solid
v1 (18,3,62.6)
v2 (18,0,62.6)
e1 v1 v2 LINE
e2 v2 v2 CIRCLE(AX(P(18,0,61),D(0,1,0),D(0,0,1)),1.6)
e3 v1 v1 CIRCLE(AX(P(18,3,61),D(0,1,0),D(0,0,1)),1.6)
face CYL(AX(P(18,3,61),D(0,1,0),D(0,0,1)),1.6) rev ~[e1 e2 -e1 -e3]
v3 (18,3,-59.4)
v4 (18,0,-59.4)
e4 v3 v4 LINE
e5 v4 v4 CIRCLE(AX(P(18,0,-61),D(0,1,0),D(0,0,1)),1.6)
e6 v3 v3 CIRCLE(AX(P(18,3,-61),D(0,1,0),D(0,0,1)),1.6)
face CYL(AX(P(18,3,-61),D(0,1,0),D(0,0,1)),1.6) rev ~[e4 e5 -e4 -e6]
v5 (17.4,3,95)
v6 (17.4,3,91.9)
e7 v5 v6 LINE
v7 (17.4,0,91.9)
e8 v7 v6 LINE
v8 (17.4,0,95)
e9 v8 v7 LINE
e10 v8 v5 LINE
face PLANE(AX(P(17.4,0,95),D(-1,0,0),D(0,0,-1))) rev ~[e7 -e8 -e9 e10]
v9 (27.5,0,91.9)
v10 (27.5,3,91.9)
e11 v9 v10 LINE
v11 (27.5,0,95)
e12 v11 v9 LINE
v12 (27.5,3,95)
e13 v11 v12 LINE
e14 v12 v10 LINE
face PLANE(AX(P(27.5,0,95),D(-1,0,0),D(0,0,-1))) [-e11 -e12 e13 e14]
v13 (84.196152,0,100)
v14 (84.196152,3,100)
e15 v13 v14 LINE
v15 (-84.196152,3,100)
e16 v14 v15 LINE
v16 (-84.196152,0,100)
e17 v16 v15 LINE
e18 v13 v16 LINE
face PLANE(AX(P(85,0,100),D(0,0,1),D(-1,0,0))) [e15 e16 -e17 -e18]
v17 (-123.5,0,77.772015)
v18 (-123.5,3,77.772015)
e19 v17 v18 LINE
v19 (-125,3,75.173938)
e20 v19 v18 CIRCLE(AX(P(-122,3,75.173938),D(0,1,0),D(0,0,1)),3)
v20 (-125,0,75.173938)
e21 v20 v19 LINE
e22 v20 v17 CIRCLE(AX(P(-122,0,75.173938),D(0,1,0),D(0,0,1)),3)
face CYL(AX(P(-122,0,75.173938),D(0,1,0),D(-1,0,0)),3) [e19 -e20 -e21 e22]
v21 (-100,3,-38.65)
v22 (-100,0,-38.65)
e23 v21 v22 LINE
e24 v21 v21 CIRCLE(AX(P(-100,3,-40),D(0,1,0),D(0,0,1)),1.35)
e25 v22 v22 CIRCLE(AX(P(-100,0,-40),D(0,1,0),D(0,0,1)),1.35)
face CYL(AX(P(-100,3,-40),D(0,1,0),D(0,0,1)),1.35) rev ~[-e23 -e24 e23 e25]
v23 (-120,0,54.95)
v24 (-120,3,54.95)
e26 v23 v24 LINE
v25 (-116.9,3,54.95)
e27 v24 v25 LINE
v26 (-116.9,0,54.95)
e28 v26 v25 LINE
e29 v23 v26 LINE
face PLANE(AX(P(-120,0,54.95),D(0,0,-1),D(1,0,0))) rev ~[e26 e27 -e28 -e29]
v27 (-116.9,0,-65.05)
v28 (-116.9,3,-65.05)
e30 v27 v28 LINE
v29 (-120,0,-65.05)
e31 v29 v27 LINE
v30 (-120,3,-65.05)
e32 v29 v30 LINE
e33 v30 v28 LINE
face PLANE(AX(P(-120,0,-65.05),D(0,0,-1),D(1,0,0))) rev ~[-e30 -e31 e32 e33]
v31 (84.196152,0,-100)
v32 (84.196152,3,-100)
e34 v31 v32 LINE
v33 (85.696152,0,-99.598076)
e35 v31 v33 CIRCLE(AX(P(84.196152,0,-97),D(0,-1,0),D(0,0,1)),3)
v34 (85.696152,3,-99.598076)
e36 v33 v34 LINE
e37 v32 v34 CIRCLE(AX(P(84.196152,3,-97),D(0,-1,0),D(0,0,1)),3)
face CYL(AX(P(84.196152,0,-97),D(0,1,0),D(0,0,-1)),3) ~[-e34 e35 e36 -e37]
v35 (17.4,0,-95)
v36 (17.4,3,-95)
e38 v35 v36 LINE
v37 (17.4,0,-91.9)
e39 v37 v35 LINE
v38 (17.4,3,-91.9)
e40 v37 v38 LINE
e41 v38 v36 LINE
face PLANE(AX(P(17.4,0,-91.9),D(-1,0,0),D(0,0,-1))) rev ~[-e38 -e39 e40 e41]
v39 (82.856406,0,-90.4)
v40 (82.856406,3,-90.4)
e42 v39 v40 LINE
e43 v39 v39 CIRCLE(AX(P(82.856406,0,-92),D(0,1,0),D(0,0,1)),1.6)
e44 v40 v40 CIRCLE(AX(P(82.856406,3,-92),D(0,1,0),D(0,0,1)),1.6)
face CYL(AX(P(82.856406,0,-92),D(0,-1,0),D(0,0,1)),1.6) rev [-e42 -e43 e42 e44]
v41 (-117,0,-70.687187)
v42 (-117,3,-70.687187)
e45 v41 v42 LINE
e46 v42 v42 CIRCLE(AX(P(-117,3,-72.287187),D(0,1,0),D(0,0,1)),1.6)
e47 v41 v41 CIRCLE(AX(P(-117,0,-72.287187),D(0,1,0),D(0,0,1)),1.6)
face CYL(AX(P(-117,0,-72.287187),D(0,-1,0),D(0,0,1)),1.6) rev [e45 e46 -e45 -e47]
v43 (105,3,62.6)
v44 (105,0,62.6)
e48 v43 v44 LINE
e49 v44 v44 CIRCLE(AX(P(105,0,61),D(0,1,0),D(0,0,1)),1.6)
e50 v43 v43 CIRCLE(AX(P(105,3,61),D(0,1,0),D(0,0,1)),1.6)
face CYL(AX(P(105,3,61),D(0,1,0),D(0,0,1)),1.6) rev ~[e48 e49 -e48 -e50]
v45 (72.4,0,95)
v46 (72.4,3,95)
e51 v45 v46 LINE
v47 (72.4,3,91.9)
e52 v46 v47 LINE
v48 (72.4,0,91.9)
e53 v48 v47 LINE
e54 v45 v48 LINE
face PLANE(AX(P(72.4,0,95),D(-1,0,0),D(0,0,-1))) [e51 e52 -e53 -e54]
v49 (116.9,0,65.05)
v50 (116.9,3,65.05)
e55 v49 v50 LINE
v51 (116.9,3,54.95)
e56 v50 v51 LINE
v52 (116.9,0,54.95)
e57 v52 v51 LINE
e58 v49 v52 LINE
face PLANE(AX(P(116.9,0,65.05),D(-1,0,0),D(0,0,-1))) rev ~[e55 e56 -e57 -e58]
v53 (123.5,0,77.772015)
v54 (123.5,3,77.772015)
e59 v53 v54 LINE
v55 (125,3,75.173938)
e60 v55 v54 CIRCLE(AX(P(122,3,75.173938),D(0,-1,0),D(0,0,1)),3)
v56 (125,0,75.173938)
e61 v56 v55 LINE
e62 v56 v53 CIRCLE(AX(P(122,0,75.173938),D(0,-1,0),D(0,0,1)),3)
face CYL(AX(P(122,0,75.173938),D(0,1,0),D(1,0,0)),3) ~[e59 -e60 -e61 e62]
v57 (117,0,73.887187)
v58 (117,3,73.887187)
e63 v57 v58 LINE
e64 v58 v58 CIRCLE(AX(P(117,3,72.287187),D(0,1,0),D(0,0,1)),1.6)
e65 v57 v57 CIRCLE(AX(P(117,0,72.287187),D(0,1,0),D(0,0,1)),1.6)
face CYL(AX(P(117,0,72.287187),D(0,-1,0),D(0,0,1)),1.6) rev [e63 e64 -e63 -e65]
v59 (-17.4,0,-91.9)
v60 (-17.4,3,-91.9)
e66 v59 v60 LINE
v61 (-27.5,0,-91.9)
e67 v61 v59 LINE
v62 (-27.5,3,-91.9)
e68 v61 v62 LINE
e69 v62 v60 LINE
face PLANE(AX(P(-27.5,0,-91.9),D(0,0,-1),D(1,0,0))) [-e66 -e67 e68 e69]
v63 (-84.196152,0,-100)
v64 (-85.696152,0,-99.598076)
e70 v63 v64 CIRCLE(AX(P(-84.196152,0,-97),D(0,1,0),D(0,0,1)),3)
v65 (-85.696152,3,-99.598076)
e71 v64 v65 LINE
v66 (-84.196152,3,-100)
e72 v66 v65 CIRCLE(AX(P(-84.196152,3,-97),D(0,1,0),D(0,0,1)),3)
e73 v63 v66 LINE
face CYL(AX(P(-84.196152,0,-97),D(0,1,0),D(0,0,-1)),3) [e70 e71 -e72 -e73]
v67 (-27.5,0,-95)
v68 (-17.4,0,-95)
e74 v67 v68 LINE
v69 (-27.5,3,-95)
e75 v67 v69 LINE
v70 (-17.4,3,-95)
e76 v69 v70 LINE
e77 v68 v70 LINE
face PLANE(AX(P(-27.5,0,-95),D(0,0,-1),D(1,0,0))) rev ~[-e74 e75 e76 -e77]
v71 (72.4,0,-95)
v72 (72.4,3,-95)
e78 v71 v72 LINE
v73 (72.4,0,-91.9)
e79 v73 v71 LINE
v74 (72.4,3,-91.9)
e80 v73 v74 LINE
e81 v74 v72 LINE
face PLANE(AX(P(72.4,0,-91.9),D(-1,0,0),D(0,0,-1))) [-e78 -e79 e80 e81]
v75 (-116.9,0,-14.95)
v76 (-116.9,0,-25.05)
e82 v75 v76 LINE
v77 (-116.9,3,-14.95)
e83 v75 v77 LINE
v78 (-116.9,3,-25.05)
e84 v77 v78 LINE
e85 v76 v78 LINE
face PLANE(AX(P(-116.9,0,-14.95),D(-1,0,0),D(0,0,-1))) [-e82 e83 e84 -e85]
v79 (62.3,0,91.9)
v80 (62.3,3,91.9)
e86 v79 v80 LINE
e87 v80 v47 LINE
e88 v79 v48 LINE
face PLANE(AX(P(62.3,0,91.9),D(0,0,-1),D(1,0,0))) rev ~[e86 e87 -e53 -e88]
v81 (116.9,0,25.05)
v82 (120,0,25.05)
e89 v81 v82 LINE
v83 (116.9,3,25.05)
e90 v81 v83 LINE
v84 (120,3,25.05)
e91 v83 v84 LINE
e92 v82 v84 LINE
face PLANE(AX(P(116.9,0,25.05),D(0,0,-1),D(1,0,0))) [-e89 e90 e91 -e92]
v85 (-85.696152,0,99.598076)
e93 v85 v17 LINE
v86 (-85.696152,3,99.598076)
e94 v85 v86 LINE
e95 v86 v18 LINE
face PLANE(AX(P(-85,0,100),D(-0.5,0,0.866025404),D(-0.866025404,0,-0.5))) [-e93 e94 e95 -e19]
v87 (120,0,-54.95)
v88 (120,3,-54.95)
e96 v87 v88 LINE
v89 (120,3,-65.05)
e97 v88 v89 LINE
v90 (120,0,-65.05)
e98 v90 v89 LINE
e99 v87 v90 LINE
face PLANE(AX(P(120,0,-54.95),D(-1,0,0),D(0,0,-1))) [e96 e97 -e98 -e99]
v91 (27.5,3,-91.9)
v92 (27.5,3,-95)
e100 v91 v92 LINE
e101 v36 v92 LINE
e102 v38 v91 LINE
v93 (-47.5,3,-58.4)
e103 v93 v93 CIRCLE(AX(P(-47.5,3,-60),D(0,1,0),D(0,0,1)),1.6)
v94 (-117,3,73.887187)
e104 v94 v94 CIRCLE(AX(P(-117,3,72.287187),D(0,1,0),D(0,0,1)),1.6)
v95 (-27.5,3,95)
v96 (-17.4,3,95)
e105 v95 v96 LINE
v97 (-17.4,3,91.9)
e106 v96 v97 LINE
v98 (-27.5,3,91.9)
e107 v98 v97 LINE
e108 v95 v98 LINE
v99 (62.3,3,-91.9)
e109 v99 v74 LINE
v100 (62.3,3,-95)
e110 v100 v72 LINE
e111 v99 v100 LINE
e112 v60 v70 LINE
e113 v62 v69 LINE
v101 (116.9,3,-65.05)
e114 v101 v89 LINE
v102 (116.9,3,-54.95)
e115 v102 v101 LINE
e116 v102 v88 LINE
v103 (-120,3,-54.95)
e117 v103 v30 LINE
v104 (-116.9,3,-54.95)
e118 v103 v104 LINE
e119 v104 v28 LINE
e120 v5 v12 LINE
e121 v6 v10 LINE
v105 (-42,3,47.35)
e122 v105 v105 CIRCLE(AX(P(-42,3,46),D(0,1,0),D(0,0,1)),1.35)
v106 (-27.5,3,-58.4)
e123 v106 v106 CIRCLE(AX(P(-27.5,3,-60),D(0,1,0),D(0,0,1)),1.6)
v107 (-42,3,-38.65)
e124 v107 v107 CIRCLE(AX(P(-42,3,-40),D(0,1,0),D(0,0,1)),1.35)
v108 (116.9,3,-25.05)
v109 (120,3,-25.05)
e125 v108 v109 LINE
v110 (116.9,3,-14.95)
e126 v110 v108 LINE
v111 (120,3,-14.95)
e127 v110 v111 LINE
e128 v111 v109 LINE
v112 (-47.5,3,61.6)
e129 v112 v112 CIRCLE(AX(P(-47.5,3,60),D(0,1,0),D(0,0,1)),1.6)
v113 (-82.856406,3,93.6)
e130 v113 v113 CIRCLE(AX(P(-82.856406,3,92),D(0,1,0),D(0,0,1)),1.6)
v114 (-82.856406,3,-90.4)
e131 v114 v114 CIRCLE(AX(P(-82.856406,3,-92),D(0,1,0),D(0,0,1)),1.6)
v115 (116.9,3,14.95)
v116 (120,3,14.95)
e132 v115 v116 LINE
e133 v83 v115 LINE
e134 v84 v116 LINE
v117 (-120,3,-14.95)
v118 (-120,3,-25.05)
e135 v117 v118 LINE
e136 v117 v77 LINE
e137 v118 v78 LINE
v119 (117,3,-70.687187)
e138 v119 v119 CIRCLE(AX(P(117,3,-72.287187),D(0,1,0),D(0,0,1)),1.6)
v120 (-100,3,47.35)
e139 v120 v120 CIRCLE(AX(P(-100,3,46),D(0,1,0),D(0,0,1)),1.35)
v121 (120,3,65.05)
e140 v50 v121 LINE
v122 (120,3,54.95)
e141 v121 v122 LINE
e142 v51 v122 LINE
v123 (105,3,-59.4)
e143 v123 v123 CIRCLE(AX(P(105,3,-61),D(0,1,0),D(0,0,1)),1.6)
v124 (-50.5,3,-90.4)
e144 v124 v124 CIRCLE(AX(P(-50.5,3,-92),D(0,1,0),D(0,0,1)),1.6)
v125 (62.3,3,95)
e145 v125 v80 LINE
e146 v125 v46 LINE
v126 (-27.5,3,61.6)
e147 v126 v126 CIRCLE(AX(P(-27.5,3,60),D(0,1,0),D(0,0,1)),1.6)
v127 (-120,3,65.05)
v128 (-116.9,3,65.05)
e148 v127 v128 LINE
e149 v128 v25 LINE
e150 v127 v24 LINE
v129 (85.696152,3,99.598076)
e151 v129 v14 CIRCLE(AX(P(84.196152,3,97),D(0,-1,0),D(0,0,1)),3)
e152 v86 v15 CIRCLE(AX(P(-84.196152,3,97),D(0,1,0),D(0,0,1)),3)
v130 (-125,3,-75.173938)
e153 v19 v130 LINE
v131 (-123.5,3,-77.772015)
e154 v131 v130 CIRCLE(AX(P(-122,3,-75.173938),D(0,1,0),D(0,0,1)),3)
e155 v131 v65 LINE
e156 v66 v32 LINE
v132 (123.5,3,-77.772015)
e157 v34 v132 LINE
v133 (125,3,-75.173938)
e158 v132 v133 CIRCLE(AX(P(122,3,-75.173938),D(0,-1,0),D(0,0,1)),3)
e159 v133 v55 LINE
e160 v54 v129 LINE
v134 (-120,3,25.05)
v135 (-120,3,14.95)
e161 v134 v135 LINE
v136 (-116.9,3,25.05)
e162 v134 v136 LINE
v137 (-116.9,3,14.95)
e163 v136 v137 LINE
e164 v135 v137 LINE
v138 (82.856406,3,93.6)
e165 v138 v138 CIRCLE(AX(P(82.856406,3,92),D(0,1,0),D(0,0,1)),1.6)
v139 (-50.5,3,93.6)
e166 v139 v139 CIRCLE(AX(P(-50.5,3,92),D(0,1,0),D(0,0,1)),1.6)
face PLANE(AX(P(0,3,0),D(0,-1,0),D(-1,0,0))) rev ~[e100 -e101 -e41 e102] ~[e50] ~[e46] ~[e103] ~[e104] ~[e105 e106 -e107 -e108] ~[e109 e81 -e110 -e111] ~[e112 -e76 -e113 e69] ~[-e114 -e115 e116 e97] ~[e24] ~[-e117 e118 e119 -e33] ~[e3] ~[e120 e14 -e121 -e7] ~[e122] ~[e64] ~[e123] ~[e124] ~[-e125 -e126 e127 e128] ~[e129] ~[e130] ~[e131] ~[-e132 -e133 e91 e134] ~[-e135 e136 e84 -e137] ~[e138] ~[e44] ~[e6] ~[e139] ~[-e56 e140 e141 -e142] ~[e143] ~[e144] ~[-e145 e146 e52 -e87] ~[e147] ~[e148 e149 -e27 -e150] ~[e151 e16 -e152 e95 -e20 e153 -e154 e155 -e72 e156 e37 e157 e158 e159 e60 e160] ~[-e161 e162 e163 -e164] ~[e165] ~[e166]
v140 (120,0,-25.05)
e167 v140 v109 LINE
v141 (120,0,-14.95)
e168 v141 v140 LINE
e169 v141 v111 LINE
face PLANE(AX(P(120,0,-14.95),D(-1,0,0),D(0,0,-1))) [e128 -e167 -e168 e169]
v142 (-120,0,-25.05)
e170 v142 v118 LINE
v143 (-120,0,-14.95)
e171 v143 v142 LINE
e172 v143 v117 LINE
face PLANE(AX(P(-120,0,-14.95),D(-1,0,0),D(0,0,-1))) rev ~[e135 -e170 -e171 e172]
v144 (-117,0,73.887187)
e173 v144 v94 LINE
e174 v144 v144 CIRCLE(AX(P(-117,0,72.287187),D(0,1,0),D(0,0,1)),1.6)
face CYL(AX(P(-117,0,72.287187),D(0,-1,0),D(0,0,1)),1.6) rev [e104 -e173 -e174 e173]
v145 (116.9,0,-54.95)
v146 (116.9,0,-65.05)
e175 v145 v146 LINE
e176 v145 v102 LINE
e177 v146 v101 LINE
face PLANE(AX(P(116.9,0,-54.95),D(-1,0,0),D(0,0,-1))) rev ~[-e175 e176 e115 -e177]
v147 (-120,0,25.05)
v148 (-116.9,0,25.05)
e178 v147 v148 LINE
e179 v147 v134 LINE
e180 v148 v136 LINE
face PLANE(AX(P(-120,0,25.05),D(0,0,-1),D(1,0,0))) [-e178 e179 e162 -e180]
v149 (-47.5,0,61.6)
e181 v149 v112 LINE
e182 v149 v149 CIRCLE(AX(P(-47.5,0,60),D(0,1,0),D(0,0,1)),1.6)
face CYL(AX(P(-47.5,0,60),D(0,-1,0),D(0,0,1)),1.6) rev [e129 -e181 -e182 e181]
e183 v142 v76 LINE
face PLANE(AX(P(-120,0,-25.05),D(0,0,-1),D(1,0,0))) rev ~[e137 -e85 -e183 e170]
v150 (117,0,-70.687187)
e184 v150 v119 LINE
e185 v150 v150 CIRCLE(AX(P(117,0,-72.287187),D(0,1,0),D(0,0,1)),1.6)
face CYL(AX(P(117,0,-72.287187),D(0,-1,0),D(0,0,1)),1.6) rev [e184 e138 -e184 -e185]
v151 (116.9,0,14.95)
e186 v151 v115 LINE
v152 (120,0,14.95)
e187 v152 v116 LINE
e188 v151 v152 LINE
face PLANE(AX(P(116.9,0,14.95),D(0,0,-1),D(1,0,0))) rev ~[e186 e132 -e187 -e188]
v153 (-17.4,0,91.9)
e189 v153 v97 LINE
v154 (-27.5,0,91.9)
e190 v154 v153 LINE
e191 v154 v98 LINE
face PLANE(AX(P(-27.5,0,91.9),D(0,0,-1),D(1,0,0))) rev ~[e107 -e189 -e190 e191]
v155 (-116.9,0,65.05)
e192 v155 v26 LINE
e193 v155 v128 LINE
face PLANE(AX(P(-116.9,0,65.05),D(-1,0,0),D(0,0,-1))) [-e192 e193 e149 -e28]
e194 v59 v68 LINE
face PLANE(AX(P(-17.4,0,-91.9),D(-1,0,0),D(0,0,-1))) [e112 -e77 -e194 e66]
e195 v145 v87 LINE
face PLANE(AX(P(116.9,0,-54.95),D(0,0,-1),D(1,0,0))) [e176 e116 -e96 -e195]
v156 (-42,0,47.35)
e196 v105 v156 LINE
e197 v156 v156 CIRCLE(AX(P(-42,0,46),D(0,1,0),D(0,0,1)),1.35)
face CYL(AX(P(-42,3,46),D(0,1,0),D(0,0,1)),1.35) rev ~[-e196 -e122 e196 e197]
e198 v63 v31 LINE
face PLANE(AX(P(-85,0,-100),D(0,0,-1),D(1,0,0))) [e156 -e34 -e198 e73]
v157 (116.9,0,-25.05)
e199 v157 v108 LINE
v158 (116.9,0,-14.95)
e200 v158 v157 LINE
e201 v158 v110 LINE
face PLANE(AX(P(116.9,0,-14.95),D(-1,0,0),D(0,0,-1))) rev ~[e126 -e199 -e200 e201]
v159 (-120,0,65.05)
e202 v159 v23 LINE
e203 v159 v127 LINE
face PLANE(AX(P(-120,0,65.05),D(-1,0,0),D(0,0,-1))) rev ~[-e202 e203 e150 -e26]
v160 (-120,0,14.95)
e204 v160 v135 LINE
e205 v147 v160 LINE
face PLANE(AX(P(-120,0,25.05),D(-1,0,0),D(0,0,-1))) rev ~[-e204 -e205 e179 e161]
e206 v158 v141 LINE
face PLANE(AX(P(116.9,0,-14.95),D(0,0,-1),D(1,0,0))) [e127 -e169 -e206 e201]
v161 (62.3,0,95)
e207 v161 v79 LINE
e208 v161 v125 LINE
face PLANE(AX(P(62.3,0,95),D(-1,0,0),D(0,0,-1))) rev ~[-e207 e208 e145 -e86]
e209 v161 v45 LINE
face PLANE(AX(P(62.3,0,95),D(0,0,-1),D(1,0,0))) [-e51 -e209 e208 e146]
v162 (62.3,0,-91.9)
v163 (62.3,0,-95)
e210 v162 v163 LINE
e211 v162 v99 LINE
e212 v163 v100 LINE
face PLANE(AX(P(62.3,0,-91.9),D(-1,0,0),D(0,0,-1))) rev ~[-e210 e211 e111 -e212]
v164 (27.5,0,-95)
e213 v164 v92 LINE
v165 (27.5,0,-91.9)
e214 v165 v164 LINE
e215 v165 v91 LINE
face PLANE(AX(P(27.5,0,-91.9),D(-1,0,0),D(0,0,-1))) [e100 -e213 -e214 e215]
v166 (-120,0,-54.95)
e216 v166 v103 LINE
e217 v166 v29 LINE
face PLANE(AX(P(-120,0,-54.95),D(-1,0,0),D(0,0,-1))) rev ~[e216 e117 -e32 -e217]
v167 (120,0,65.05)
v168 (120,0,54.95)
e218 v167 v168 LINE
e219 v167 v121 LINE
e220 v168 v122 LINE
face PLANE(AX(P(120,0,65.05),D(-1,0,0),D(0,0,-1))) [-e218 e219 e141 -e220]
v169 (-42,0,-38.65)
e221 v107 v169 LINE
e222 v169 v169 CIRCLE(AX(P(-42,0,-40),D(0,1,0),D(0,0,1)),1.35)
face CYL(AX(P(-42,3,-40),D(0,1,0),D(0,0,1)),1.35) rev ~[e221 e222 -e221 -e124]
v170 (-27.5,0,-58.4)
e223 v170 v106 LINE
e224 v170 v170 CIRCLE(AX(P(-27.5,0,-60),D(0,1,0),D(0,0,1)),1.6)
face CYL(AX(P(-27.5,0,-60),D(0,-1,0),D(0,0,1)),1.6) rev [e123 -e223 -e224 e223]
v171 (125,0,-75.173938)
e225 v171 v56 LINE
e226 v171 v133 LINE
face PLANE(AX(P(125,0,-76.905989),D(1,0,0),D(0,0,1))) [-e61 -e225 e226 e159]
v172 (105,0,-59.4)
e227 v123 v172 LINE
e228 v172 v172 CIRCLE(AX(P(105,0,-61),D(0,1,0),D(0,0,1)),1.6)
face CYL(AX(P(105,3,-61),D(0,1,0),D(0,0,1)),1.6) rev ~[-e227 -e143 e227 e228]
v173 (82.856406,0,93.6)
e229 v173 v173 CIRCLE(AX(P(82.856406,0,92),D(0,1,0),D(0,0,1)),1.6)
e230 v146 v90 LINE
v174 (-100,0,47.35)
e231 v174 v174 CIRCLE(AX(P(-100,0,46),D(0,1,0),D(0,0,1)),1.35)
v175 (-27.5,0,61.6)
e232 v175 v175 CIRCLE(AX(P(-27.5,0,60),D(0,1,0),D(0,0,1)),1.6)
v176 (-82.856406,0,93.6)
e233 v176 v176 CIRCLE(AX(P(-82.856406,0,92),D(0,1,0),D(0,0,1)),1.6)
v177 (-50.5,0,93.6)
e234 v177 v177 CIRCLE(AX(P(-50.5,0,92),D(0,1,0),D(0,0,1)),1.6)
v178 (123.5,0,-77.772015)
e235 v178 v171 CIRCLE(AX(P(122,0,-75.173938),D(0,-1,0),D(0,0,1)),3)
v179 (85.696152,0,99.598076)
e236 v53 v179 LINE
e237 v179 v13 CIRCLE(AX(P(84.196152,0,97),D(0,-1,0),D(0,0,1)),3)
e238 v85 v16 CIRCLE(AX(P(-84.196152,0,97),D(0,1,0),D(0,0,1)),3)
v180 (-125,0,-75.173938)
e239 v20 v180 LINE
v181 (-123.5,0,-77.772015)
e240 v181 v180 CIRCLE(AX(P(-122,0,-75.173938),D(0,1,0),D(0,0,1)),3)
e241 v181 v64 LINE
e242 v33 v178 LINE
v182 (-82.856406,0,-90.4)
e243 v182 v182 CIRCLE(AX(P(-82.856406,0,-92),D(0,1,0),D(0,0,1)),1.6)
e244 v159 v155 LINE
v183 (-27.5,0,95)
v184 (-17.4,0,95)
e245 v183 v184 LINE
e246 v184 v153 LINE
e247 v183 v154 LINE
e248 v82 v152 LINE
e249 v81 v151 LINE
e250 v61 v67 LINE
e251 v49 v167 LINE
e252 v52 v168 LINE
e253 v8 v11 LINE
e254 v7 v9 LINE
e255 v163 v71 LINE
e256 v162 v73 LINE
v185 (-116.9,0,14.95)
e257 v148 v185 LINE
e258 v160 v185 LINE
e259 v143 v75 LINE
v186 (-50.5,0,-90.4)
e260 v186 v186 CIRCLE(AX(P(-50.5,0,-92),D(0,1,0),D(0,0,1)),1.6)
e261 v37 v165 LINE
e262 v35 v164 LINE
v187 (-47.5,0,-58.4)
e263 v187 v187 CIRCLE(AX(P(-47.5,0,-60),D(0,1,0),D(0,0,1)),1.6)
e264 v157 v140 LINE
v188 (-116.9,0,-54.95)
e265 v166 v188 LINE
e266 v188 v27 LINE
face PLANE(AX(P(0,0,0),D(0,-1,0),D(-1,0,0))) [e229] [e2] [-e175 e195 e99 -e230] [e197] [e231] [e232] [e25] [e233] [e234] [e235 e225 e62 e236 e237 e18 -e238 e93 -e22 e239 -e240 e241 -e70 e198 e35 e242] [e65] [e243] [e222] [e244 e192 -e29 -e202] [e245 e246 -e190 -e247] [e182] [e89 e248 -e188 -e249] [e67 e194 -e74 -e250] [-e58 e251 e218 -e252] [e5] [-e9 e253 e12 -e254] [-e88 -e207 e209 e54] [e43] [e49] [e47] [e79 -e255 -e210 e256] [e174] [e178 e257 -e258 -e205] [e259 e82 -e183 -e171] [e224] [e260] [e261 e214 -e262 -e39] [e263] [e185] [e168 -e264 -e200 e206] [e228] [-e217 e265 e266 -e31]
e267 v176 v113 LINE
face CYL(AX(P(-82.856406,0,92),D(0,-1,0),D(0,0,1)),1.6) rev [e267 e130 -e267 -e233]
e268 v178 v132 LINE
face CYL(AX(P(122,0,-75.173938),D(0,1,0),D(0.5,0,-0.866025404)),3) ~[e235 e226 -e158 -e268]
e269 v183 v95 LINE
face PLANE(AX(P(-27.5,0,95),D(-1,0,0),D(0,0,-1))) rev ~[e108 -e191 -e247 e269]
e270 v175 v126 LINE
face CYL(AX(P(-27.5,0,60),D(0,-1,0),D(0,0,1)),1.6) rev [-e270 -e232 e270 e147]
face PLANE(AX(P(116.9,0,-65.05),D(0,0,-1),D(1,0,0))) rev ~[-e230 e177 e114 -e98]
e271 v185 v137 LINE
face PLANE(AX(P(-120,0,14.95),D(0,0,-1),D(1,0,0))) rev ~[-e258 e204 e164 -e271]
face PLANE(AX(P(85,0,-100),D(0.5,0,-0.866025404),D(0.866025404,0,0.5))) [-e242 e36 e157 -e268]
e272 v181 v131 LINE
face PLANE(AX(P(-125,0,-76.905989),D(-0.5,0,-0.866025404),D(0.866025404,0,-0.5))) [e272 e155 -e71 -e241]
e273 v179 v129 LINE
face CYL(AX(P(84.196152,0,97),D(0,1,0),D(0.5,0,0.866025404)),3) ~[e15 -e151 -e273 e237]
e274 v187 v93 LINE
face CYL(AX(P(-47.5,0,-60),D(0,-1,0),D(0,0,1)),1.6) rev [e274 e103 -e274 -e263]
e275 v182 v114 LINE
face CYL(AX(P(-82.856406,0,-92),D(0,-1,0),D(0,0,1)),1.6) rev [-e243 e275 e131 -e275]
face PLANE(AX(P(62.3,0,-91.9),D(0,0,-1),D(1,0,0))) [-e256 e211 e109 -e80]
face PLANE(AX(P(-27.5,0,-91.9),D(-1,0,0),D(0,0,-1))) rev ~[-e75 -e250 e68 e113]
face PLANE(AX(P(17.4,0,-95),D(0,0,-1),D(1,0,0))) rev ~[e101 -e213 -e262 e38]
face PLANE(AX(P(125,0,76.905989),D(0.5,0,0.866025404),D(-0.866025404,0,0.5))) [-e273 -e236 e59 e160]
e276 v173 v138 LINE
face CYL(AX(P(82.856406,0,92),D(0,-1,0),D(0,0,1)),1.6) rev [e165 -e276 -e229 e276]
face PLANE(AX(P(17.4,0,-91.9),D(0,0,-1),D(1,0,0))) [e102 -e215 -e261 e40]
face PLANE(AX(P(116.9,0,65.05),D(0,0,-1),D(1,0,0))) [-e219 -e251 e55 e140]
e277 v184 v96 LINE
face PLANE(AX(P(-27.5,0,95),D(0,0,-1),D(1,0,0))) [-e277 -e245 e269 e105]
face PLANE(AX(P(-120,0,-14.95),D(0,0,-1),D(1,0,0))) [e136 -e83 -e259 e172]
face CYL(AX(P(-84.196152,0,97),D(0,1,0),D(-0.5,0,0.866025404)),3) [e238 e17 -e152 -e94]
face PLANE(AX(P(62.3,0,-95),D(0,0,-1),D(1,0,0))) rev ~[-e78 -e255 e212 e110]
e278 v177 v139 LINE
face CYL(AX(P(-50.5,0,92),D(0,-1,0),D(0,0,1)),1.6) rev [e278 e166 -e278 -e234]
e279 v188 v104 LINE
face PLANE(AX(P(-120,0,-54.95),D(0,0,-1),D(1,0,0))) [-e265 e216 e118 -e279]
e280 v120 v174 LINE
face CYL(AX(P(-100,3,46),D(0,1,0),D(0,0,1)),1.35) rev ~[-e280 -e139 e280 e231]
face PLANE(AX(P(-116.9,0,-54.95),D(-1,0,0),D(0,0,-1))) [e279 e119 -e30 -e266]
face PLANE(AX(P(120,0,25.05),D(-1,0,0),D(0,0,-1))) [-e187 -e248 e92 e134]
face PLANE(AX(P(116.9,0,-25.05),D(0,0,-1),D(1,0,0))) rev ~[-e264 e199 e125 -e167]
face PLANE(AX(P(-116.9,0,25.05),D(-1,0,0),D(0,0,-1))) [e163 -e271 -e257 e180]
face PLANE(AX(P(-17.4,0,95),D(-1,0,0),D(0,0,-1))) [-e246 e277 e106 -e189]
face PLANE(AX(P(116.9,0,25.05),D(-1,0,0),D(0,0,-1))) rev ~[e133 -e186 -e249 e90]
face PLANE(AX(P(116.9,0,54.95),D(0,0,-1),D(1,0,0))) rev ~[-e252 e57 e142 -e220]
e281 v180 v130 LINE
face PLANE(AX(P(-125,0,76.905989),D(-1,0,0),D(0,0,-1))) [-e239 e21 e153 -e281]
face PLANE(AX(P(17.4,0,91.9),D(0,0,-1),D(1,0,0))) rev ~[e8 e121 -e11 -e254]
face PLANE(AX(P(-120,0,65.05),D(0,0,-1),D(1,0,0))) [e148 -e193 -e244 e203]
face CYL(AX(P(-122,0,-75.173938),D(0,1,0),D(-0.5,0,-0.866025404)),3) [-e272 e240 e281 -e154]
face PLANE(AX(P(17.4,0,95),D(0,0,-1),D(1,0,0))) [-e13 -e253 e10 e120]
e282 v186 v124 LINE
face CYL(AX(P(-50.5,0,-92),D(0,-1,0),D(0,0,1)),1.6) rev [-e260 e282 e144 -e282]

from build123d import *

# Parameters (mm, degrees)
SKETCH1_R           = 1.6
SKETCH1_W           = 10.1
SKETCH1_H           = 3.1
SKETCH1_W_2         = 3.1
SKETCH1_H_2         = 10.1
BOSS_EXTRUDE1_DEPTH = 3
CUT_EXTRUDE1_REACH  = 162.106
SKETCH3_R           = 1.35
SKETCH3_R_2         = 1.6
FILLET1_R           = 3


with BuildPart() as part:
    # Sketch1 → Boss-Extrude1 (new body)
    with BuildSketch(Plane(origin=(0, 0, 0), x_dir=(1, 0, 0), z_dir=(0, 1, 0))):
        Polygon((-85, 100), (85, 100), (125, 76.905989232), (125, -76.905989232), (85, -100), (-85, -100), (-125, -76.905989232), (-125, 76.905989232), align=None)
        with Locations(Location((-47.5, -60, 0), (0, 0, 270))):
            Circle(SKETCH1_R, mode=Mode.SUBTRACT)
        with Locations(Location((82.856406461, 92, 0), (0, 0, 270))):
            Circle(SKETCH1_R, mode=Mode.SUBTRACT)
        with Locations(Location((117, 72.287187079, 0), (0, 0, 270))):
            Circle(SKETCH1_R, mode=Mode.SUBTRACT)
        with Locations(Location((117, -72.287187079, 0), (0, 0, 270))):
            Circle(SKETCH1_R, mode=Mode.SUBTRACT)
        with Locations(Location((82.856406461, -92, 0), (0, 0, 270))):
            Circle(SKETCH1_R, mode=Mode.SUBTRACT)
        with Locations(Location((-27.5, -60, 0), (0, 0, 270))):
            Circle(SKETCH1_R, mode=Mode.SUBTRACT)
        with Locations(Location((-27.5, 60, 0), (0, 0, 270))):
            Circle(SKETCH1_R, mode=Mode.SUBTRACT)
        with Locations(Location((-117, -72.287187079, 0), (0, 0, 270))):
            Circle(SKETCH1_R, mode=Mode.SUBTRACT)
        with Locations(Location((-50.5, -92, 0), (0, 0, 270))):
            Circle(SKETCH1_R, mode=Mode.SUBTRACT)
        with Locations(Location((-47.5, 60, 0), (0, 0, 270))):
            Circle(SKETCH1_R, mode=Mode.SUBTRACT)
        with Locations(Location((-117, 72.287187079, 0), (0, 0, 270))):
            Circle(SKETCH1_R, mode=Mode.SUBTRACT)
        with Locations(Location((-50.5, 92, 0), (0, 0, 270))):
            Circle(SKETCH1_R, mode=Mode.SUBTRACT)
        with Locations(Location((-82.856406461, -92, 0), (0, 0, 270))):
            Circle(SKETCH1_R, mode=Mode.SUBTRACT)
        with Locations(Location((-82.856406461, 92, 0), (0, 0, 270))):
            Circle(SKETCH1_R, mode=Mode.SUBTRACT)
        with Locations((-22.45, -93.45)):
            Rectangle(SKETCH1_W, SKETCH1_H, mode=Mode.SUBTRACT)
        with Locations((-118.45, 60)):
            Rectangle(SKETCH1_W_2, SKETCH1_H_2, mode=Mode.SUBTRACT)
        with Locations((-118.45, 20)):
            Rectangle(SKETCH1_W_2, SKETCH1_H_2, mode=Mode.SUBTRACT)
        with Locations((-118.45, -20)):
            Rectangle(SKETCH1_W_2, SKETCH1_H_2, mode=Mode.SUBTRACT)
        with Locations((-118.45, -60)):
            Rectangle(SKETCH1_W_2, SKETCH1_H_2, mode=Mode.SUBTRACT)
        with Locations((118.45, -60)):
            Rectangle(SKETCH1_W_2, SKETCH1_H_2, mode=Mode.SUBTRACT)
        with Locations((118.45, -20)):
            Rectangle(SKETCH1_W_2, SKETCH1_H_2, mode=Mode.SUBTRACT)
        with Locations((118.45, 20)):
            Rectangle(SKETCH1_W_2, SKETCH1_H_2, mode=Mode.SUBTRACT)
        with Locations((118.45, 60)):
            Rectangle(SKETCH1_W_2, SKETCH1_H_2, mode=Mode.SUBTRACT)
        with Locations((22.45, -93.45)):
            Rectangle(SKETCH1_W, SKETCH1_H, mode=Mode.SUBTRACT)
        with Locations((67.35, -93.45)):
            Rectangle(SKETCH1_W, SKETCH1_H, mode=Mode.SUBTRACT)
        with Locations((67.35, 93.45)):
            Rectangle(SKETCH1_W, SKETCH1_H, mode=Mode.SUBTRACT)
        with Locations((22.45, 93.45)):
            Rectangle(SKETCH1_W, SKETCH1_H, mode=Mode.SUBTRACT)
        with Locations((-22.45, 93.45)):
            Rectangle(SKETCH1_W, SKETCH1_H, mode=Mode.SUBTRACT)
    extrude(amount=BOSS_EXTRUDE1_DEPTH)

    # Sketch3 → Cut-Extrude1 (cut, up to next)
    with BuildSketch(Plane(origin=(0, 3, 0), x_dir=(1, 0, 0), z_dir=(0, 1, 0)), mode=Mode.PRIVATE) as cut_extrude1_sk1:
        with Locations(Location((-100, -46, 0), (0, 0, 270))):
            Circle(SKETCH3_R)
    cut_extrude1_tool1 = extrude(cut_extrude1_sk1.sketch, amount=-CUT_EXTRUDE1_REACH, mode=Mode.PRIVATE) & part.part
    # Sketch3 → Cut-Extrude1 (cut, up to next)
    with BuildSketch(Plane(origin=(0, 3, 0), x_dir=(1, 0, 0), z_dir=(0, 1, 0)), mode=Mode.PRIVATE) as cut_extrude1_sk2:
        with Locations(Location((-42, -46, 0), (0, 0, 270))):
            Circle(SKETCH3_R)
    cut_extrude1_tool2 = extrude(cut_extrude1_sk2.sketch, amount=-CUT_EXTRUDE1_REACH, mode=Mode.PRIVATE) & part.part
    # Sketch3 → Cut-Extrude1 (cut, up to next)
    with BuildSketch(Plane(origin=(0, 3, 0), x_dir=(1, 0, 0), z_dir=(0, 1, 0)), mode=Mode.PRIVATE) as cut_extrude1_sk3:
        with Locations(Location((-42, 40, 0), (0, 0, 270))):
            Circle(SKETCH3_R)
    cut_extrude1_tool3 = extrude(cut_extrude1_sk3.sketch, amount=-CUT_EXTRUDE1_REACH, mode=Mode.PRIVATE) & part.part
    # Sketch3 → Cut-Extrude1 (cut, up to next)
    with BuildSketch(Plane(origin=(0, 3, 0), x_dir=(1, 0, 0), z_dir=(0, 1, 0)), mode=Mode.PRIVATE) as cut_extrude1_sk4:
        with Locations(Location((-100, 40, 0), (0, 0, 270))):
            Circle(SKETCH3_R)
    cut_extrude1_tool4 = extrude(cut_extrude1_sk4.sketch, amount=-CUT_EXTRUDE1_REACH, mode=Mode.PRIVATE) & part.part
    # Sketch3 → Cut-Extrude1 (cut, up to next)
    with BuildSketch(Plane(origin=(0, 3, 0), x_dir=(1, 0, 0), z_dir=(0, 1, 0)), mode=Mode.PRIVATE) as cut_extrude1_sk5:
        with Locations(Location((18, 61, 0), (0, 0, 270))):
            Circle(SKETCH3_R_2)
    cut_extrude1_tool5 = extrude(cut_extrude1_sk5.sketch, amount=-CUT_EXTRUDE1_REACH, mode=Mode.PRIVATE) & part.part
    # Sketch3 → Cut-Extrude1 (cut, up to next)
    with BuildSketch(Plane(origin=(0, 3, 0), x_dir=(1, 0, 0), z_dir=(0, 1, 0)), mode=Mode.PRIVATE) as cut_extrude1_sk6:
        with Locations(Location((105, 61, 0), (0, 0, 270))):
            Circle(SKETCH3_R_2)
    cut_extrude1_tool6 = extrude(cut_extrude1_sk6.sketch, amount=-CUT_EXTRUDE1_REACH, mode=Mode.PRIVATE) & part.part
    # Sketch3 → Cut-Extrude1 (cut, up to next)
    with BuildSketch(Plane(origin=(0, 3, 0), x_dir=(1, 0, 0), z_dir=(0, 1, 0)), mode=Mode.PRIVATE) as cut_extrude1_sk7:
        with Locations(Location((105, -61, 0), (0, 0, 270))):
            Circle(SKETCH3_R_2)
    cut_extrude1_tool7 = extrude(cut_extrude1_sk7.sketch, amount=-CUT_EXTRUDE1_REACH, mode=Mode.PRIVATE) & part.part
    # Sketch3 → Cut-Extrude1 (cut, up to next)
    with BuildSketch(Plane(origin=(0, 3, 0), x_dir=(1, 0, 0), z_dir=(0, 1, 0)), mode=Mode.PRIVATE) as cut_extrude1_sk8:
        with Locations(Location((18, -61, 0), (0, 0, 270))):
            Circle(SKETCH3_R_2)
    cut_extrude1_tool8 = extrude(cut_extrude1_sk8.sketch, amount=-CUT_EXTRUDE1_REACH, mode=Mode.PRIVATE) & part.part
    add(cut_extrude1_tool1.solids().sort_by_distance((-100, 3, 46))[0], mode=Mode.SUBTRACT)
    add(cut_extrude1_tool2.solids().sort_by_distance((-42, 3, 46))[0], mode=Mode.SUBTRACT)
    add(cut_extrude1_tool3.solids().sort_by_distance((-42, 3, -40))[0], mode=Mode.SUBTRACT)
    add(cut_extrude1_tool4.solids().sort_by_distance((-100, 3, -40))[0], mode=Mode.SUBTRACT)
    add(cut_extrude1_tool5.solids().sort_by_distance((18, 3, -61))[0], mode=Mode.SUBTRACT)
    add(cut_extrude1_tool6.solids().sort_by_distance((105, 3, -61))[0], mode=Mode.SUBTRACT)
    add(cut_extrude1_tool7.solids().sort_by_distance((105, 3, 61))[0], mode=Mode.SUBTRACT)
    add(cut_extrude1_tool8.solids().sort_by_distance((18, 3, 61))[0], mode=Mode.SUBTRACT)

    # Fillet1
    fillet1_edges = [part.edges().sort_by_distance(p)[0] for p in [
        (-85, 1.5, -100),
        (85, 1.5, -100),
        (125, 1.5, -76.905989232),
        (125, 1.5, 76.905989232),
        (85, 1.5, 100),
        (-85, 1.5, 100),
        (-125, 1.5, 76.905989232),
        (-125, 1.5, -76.905989232),
    ]]
    fillet(fillet1_edges, radius=FILLET1_R)


solid = part.part
